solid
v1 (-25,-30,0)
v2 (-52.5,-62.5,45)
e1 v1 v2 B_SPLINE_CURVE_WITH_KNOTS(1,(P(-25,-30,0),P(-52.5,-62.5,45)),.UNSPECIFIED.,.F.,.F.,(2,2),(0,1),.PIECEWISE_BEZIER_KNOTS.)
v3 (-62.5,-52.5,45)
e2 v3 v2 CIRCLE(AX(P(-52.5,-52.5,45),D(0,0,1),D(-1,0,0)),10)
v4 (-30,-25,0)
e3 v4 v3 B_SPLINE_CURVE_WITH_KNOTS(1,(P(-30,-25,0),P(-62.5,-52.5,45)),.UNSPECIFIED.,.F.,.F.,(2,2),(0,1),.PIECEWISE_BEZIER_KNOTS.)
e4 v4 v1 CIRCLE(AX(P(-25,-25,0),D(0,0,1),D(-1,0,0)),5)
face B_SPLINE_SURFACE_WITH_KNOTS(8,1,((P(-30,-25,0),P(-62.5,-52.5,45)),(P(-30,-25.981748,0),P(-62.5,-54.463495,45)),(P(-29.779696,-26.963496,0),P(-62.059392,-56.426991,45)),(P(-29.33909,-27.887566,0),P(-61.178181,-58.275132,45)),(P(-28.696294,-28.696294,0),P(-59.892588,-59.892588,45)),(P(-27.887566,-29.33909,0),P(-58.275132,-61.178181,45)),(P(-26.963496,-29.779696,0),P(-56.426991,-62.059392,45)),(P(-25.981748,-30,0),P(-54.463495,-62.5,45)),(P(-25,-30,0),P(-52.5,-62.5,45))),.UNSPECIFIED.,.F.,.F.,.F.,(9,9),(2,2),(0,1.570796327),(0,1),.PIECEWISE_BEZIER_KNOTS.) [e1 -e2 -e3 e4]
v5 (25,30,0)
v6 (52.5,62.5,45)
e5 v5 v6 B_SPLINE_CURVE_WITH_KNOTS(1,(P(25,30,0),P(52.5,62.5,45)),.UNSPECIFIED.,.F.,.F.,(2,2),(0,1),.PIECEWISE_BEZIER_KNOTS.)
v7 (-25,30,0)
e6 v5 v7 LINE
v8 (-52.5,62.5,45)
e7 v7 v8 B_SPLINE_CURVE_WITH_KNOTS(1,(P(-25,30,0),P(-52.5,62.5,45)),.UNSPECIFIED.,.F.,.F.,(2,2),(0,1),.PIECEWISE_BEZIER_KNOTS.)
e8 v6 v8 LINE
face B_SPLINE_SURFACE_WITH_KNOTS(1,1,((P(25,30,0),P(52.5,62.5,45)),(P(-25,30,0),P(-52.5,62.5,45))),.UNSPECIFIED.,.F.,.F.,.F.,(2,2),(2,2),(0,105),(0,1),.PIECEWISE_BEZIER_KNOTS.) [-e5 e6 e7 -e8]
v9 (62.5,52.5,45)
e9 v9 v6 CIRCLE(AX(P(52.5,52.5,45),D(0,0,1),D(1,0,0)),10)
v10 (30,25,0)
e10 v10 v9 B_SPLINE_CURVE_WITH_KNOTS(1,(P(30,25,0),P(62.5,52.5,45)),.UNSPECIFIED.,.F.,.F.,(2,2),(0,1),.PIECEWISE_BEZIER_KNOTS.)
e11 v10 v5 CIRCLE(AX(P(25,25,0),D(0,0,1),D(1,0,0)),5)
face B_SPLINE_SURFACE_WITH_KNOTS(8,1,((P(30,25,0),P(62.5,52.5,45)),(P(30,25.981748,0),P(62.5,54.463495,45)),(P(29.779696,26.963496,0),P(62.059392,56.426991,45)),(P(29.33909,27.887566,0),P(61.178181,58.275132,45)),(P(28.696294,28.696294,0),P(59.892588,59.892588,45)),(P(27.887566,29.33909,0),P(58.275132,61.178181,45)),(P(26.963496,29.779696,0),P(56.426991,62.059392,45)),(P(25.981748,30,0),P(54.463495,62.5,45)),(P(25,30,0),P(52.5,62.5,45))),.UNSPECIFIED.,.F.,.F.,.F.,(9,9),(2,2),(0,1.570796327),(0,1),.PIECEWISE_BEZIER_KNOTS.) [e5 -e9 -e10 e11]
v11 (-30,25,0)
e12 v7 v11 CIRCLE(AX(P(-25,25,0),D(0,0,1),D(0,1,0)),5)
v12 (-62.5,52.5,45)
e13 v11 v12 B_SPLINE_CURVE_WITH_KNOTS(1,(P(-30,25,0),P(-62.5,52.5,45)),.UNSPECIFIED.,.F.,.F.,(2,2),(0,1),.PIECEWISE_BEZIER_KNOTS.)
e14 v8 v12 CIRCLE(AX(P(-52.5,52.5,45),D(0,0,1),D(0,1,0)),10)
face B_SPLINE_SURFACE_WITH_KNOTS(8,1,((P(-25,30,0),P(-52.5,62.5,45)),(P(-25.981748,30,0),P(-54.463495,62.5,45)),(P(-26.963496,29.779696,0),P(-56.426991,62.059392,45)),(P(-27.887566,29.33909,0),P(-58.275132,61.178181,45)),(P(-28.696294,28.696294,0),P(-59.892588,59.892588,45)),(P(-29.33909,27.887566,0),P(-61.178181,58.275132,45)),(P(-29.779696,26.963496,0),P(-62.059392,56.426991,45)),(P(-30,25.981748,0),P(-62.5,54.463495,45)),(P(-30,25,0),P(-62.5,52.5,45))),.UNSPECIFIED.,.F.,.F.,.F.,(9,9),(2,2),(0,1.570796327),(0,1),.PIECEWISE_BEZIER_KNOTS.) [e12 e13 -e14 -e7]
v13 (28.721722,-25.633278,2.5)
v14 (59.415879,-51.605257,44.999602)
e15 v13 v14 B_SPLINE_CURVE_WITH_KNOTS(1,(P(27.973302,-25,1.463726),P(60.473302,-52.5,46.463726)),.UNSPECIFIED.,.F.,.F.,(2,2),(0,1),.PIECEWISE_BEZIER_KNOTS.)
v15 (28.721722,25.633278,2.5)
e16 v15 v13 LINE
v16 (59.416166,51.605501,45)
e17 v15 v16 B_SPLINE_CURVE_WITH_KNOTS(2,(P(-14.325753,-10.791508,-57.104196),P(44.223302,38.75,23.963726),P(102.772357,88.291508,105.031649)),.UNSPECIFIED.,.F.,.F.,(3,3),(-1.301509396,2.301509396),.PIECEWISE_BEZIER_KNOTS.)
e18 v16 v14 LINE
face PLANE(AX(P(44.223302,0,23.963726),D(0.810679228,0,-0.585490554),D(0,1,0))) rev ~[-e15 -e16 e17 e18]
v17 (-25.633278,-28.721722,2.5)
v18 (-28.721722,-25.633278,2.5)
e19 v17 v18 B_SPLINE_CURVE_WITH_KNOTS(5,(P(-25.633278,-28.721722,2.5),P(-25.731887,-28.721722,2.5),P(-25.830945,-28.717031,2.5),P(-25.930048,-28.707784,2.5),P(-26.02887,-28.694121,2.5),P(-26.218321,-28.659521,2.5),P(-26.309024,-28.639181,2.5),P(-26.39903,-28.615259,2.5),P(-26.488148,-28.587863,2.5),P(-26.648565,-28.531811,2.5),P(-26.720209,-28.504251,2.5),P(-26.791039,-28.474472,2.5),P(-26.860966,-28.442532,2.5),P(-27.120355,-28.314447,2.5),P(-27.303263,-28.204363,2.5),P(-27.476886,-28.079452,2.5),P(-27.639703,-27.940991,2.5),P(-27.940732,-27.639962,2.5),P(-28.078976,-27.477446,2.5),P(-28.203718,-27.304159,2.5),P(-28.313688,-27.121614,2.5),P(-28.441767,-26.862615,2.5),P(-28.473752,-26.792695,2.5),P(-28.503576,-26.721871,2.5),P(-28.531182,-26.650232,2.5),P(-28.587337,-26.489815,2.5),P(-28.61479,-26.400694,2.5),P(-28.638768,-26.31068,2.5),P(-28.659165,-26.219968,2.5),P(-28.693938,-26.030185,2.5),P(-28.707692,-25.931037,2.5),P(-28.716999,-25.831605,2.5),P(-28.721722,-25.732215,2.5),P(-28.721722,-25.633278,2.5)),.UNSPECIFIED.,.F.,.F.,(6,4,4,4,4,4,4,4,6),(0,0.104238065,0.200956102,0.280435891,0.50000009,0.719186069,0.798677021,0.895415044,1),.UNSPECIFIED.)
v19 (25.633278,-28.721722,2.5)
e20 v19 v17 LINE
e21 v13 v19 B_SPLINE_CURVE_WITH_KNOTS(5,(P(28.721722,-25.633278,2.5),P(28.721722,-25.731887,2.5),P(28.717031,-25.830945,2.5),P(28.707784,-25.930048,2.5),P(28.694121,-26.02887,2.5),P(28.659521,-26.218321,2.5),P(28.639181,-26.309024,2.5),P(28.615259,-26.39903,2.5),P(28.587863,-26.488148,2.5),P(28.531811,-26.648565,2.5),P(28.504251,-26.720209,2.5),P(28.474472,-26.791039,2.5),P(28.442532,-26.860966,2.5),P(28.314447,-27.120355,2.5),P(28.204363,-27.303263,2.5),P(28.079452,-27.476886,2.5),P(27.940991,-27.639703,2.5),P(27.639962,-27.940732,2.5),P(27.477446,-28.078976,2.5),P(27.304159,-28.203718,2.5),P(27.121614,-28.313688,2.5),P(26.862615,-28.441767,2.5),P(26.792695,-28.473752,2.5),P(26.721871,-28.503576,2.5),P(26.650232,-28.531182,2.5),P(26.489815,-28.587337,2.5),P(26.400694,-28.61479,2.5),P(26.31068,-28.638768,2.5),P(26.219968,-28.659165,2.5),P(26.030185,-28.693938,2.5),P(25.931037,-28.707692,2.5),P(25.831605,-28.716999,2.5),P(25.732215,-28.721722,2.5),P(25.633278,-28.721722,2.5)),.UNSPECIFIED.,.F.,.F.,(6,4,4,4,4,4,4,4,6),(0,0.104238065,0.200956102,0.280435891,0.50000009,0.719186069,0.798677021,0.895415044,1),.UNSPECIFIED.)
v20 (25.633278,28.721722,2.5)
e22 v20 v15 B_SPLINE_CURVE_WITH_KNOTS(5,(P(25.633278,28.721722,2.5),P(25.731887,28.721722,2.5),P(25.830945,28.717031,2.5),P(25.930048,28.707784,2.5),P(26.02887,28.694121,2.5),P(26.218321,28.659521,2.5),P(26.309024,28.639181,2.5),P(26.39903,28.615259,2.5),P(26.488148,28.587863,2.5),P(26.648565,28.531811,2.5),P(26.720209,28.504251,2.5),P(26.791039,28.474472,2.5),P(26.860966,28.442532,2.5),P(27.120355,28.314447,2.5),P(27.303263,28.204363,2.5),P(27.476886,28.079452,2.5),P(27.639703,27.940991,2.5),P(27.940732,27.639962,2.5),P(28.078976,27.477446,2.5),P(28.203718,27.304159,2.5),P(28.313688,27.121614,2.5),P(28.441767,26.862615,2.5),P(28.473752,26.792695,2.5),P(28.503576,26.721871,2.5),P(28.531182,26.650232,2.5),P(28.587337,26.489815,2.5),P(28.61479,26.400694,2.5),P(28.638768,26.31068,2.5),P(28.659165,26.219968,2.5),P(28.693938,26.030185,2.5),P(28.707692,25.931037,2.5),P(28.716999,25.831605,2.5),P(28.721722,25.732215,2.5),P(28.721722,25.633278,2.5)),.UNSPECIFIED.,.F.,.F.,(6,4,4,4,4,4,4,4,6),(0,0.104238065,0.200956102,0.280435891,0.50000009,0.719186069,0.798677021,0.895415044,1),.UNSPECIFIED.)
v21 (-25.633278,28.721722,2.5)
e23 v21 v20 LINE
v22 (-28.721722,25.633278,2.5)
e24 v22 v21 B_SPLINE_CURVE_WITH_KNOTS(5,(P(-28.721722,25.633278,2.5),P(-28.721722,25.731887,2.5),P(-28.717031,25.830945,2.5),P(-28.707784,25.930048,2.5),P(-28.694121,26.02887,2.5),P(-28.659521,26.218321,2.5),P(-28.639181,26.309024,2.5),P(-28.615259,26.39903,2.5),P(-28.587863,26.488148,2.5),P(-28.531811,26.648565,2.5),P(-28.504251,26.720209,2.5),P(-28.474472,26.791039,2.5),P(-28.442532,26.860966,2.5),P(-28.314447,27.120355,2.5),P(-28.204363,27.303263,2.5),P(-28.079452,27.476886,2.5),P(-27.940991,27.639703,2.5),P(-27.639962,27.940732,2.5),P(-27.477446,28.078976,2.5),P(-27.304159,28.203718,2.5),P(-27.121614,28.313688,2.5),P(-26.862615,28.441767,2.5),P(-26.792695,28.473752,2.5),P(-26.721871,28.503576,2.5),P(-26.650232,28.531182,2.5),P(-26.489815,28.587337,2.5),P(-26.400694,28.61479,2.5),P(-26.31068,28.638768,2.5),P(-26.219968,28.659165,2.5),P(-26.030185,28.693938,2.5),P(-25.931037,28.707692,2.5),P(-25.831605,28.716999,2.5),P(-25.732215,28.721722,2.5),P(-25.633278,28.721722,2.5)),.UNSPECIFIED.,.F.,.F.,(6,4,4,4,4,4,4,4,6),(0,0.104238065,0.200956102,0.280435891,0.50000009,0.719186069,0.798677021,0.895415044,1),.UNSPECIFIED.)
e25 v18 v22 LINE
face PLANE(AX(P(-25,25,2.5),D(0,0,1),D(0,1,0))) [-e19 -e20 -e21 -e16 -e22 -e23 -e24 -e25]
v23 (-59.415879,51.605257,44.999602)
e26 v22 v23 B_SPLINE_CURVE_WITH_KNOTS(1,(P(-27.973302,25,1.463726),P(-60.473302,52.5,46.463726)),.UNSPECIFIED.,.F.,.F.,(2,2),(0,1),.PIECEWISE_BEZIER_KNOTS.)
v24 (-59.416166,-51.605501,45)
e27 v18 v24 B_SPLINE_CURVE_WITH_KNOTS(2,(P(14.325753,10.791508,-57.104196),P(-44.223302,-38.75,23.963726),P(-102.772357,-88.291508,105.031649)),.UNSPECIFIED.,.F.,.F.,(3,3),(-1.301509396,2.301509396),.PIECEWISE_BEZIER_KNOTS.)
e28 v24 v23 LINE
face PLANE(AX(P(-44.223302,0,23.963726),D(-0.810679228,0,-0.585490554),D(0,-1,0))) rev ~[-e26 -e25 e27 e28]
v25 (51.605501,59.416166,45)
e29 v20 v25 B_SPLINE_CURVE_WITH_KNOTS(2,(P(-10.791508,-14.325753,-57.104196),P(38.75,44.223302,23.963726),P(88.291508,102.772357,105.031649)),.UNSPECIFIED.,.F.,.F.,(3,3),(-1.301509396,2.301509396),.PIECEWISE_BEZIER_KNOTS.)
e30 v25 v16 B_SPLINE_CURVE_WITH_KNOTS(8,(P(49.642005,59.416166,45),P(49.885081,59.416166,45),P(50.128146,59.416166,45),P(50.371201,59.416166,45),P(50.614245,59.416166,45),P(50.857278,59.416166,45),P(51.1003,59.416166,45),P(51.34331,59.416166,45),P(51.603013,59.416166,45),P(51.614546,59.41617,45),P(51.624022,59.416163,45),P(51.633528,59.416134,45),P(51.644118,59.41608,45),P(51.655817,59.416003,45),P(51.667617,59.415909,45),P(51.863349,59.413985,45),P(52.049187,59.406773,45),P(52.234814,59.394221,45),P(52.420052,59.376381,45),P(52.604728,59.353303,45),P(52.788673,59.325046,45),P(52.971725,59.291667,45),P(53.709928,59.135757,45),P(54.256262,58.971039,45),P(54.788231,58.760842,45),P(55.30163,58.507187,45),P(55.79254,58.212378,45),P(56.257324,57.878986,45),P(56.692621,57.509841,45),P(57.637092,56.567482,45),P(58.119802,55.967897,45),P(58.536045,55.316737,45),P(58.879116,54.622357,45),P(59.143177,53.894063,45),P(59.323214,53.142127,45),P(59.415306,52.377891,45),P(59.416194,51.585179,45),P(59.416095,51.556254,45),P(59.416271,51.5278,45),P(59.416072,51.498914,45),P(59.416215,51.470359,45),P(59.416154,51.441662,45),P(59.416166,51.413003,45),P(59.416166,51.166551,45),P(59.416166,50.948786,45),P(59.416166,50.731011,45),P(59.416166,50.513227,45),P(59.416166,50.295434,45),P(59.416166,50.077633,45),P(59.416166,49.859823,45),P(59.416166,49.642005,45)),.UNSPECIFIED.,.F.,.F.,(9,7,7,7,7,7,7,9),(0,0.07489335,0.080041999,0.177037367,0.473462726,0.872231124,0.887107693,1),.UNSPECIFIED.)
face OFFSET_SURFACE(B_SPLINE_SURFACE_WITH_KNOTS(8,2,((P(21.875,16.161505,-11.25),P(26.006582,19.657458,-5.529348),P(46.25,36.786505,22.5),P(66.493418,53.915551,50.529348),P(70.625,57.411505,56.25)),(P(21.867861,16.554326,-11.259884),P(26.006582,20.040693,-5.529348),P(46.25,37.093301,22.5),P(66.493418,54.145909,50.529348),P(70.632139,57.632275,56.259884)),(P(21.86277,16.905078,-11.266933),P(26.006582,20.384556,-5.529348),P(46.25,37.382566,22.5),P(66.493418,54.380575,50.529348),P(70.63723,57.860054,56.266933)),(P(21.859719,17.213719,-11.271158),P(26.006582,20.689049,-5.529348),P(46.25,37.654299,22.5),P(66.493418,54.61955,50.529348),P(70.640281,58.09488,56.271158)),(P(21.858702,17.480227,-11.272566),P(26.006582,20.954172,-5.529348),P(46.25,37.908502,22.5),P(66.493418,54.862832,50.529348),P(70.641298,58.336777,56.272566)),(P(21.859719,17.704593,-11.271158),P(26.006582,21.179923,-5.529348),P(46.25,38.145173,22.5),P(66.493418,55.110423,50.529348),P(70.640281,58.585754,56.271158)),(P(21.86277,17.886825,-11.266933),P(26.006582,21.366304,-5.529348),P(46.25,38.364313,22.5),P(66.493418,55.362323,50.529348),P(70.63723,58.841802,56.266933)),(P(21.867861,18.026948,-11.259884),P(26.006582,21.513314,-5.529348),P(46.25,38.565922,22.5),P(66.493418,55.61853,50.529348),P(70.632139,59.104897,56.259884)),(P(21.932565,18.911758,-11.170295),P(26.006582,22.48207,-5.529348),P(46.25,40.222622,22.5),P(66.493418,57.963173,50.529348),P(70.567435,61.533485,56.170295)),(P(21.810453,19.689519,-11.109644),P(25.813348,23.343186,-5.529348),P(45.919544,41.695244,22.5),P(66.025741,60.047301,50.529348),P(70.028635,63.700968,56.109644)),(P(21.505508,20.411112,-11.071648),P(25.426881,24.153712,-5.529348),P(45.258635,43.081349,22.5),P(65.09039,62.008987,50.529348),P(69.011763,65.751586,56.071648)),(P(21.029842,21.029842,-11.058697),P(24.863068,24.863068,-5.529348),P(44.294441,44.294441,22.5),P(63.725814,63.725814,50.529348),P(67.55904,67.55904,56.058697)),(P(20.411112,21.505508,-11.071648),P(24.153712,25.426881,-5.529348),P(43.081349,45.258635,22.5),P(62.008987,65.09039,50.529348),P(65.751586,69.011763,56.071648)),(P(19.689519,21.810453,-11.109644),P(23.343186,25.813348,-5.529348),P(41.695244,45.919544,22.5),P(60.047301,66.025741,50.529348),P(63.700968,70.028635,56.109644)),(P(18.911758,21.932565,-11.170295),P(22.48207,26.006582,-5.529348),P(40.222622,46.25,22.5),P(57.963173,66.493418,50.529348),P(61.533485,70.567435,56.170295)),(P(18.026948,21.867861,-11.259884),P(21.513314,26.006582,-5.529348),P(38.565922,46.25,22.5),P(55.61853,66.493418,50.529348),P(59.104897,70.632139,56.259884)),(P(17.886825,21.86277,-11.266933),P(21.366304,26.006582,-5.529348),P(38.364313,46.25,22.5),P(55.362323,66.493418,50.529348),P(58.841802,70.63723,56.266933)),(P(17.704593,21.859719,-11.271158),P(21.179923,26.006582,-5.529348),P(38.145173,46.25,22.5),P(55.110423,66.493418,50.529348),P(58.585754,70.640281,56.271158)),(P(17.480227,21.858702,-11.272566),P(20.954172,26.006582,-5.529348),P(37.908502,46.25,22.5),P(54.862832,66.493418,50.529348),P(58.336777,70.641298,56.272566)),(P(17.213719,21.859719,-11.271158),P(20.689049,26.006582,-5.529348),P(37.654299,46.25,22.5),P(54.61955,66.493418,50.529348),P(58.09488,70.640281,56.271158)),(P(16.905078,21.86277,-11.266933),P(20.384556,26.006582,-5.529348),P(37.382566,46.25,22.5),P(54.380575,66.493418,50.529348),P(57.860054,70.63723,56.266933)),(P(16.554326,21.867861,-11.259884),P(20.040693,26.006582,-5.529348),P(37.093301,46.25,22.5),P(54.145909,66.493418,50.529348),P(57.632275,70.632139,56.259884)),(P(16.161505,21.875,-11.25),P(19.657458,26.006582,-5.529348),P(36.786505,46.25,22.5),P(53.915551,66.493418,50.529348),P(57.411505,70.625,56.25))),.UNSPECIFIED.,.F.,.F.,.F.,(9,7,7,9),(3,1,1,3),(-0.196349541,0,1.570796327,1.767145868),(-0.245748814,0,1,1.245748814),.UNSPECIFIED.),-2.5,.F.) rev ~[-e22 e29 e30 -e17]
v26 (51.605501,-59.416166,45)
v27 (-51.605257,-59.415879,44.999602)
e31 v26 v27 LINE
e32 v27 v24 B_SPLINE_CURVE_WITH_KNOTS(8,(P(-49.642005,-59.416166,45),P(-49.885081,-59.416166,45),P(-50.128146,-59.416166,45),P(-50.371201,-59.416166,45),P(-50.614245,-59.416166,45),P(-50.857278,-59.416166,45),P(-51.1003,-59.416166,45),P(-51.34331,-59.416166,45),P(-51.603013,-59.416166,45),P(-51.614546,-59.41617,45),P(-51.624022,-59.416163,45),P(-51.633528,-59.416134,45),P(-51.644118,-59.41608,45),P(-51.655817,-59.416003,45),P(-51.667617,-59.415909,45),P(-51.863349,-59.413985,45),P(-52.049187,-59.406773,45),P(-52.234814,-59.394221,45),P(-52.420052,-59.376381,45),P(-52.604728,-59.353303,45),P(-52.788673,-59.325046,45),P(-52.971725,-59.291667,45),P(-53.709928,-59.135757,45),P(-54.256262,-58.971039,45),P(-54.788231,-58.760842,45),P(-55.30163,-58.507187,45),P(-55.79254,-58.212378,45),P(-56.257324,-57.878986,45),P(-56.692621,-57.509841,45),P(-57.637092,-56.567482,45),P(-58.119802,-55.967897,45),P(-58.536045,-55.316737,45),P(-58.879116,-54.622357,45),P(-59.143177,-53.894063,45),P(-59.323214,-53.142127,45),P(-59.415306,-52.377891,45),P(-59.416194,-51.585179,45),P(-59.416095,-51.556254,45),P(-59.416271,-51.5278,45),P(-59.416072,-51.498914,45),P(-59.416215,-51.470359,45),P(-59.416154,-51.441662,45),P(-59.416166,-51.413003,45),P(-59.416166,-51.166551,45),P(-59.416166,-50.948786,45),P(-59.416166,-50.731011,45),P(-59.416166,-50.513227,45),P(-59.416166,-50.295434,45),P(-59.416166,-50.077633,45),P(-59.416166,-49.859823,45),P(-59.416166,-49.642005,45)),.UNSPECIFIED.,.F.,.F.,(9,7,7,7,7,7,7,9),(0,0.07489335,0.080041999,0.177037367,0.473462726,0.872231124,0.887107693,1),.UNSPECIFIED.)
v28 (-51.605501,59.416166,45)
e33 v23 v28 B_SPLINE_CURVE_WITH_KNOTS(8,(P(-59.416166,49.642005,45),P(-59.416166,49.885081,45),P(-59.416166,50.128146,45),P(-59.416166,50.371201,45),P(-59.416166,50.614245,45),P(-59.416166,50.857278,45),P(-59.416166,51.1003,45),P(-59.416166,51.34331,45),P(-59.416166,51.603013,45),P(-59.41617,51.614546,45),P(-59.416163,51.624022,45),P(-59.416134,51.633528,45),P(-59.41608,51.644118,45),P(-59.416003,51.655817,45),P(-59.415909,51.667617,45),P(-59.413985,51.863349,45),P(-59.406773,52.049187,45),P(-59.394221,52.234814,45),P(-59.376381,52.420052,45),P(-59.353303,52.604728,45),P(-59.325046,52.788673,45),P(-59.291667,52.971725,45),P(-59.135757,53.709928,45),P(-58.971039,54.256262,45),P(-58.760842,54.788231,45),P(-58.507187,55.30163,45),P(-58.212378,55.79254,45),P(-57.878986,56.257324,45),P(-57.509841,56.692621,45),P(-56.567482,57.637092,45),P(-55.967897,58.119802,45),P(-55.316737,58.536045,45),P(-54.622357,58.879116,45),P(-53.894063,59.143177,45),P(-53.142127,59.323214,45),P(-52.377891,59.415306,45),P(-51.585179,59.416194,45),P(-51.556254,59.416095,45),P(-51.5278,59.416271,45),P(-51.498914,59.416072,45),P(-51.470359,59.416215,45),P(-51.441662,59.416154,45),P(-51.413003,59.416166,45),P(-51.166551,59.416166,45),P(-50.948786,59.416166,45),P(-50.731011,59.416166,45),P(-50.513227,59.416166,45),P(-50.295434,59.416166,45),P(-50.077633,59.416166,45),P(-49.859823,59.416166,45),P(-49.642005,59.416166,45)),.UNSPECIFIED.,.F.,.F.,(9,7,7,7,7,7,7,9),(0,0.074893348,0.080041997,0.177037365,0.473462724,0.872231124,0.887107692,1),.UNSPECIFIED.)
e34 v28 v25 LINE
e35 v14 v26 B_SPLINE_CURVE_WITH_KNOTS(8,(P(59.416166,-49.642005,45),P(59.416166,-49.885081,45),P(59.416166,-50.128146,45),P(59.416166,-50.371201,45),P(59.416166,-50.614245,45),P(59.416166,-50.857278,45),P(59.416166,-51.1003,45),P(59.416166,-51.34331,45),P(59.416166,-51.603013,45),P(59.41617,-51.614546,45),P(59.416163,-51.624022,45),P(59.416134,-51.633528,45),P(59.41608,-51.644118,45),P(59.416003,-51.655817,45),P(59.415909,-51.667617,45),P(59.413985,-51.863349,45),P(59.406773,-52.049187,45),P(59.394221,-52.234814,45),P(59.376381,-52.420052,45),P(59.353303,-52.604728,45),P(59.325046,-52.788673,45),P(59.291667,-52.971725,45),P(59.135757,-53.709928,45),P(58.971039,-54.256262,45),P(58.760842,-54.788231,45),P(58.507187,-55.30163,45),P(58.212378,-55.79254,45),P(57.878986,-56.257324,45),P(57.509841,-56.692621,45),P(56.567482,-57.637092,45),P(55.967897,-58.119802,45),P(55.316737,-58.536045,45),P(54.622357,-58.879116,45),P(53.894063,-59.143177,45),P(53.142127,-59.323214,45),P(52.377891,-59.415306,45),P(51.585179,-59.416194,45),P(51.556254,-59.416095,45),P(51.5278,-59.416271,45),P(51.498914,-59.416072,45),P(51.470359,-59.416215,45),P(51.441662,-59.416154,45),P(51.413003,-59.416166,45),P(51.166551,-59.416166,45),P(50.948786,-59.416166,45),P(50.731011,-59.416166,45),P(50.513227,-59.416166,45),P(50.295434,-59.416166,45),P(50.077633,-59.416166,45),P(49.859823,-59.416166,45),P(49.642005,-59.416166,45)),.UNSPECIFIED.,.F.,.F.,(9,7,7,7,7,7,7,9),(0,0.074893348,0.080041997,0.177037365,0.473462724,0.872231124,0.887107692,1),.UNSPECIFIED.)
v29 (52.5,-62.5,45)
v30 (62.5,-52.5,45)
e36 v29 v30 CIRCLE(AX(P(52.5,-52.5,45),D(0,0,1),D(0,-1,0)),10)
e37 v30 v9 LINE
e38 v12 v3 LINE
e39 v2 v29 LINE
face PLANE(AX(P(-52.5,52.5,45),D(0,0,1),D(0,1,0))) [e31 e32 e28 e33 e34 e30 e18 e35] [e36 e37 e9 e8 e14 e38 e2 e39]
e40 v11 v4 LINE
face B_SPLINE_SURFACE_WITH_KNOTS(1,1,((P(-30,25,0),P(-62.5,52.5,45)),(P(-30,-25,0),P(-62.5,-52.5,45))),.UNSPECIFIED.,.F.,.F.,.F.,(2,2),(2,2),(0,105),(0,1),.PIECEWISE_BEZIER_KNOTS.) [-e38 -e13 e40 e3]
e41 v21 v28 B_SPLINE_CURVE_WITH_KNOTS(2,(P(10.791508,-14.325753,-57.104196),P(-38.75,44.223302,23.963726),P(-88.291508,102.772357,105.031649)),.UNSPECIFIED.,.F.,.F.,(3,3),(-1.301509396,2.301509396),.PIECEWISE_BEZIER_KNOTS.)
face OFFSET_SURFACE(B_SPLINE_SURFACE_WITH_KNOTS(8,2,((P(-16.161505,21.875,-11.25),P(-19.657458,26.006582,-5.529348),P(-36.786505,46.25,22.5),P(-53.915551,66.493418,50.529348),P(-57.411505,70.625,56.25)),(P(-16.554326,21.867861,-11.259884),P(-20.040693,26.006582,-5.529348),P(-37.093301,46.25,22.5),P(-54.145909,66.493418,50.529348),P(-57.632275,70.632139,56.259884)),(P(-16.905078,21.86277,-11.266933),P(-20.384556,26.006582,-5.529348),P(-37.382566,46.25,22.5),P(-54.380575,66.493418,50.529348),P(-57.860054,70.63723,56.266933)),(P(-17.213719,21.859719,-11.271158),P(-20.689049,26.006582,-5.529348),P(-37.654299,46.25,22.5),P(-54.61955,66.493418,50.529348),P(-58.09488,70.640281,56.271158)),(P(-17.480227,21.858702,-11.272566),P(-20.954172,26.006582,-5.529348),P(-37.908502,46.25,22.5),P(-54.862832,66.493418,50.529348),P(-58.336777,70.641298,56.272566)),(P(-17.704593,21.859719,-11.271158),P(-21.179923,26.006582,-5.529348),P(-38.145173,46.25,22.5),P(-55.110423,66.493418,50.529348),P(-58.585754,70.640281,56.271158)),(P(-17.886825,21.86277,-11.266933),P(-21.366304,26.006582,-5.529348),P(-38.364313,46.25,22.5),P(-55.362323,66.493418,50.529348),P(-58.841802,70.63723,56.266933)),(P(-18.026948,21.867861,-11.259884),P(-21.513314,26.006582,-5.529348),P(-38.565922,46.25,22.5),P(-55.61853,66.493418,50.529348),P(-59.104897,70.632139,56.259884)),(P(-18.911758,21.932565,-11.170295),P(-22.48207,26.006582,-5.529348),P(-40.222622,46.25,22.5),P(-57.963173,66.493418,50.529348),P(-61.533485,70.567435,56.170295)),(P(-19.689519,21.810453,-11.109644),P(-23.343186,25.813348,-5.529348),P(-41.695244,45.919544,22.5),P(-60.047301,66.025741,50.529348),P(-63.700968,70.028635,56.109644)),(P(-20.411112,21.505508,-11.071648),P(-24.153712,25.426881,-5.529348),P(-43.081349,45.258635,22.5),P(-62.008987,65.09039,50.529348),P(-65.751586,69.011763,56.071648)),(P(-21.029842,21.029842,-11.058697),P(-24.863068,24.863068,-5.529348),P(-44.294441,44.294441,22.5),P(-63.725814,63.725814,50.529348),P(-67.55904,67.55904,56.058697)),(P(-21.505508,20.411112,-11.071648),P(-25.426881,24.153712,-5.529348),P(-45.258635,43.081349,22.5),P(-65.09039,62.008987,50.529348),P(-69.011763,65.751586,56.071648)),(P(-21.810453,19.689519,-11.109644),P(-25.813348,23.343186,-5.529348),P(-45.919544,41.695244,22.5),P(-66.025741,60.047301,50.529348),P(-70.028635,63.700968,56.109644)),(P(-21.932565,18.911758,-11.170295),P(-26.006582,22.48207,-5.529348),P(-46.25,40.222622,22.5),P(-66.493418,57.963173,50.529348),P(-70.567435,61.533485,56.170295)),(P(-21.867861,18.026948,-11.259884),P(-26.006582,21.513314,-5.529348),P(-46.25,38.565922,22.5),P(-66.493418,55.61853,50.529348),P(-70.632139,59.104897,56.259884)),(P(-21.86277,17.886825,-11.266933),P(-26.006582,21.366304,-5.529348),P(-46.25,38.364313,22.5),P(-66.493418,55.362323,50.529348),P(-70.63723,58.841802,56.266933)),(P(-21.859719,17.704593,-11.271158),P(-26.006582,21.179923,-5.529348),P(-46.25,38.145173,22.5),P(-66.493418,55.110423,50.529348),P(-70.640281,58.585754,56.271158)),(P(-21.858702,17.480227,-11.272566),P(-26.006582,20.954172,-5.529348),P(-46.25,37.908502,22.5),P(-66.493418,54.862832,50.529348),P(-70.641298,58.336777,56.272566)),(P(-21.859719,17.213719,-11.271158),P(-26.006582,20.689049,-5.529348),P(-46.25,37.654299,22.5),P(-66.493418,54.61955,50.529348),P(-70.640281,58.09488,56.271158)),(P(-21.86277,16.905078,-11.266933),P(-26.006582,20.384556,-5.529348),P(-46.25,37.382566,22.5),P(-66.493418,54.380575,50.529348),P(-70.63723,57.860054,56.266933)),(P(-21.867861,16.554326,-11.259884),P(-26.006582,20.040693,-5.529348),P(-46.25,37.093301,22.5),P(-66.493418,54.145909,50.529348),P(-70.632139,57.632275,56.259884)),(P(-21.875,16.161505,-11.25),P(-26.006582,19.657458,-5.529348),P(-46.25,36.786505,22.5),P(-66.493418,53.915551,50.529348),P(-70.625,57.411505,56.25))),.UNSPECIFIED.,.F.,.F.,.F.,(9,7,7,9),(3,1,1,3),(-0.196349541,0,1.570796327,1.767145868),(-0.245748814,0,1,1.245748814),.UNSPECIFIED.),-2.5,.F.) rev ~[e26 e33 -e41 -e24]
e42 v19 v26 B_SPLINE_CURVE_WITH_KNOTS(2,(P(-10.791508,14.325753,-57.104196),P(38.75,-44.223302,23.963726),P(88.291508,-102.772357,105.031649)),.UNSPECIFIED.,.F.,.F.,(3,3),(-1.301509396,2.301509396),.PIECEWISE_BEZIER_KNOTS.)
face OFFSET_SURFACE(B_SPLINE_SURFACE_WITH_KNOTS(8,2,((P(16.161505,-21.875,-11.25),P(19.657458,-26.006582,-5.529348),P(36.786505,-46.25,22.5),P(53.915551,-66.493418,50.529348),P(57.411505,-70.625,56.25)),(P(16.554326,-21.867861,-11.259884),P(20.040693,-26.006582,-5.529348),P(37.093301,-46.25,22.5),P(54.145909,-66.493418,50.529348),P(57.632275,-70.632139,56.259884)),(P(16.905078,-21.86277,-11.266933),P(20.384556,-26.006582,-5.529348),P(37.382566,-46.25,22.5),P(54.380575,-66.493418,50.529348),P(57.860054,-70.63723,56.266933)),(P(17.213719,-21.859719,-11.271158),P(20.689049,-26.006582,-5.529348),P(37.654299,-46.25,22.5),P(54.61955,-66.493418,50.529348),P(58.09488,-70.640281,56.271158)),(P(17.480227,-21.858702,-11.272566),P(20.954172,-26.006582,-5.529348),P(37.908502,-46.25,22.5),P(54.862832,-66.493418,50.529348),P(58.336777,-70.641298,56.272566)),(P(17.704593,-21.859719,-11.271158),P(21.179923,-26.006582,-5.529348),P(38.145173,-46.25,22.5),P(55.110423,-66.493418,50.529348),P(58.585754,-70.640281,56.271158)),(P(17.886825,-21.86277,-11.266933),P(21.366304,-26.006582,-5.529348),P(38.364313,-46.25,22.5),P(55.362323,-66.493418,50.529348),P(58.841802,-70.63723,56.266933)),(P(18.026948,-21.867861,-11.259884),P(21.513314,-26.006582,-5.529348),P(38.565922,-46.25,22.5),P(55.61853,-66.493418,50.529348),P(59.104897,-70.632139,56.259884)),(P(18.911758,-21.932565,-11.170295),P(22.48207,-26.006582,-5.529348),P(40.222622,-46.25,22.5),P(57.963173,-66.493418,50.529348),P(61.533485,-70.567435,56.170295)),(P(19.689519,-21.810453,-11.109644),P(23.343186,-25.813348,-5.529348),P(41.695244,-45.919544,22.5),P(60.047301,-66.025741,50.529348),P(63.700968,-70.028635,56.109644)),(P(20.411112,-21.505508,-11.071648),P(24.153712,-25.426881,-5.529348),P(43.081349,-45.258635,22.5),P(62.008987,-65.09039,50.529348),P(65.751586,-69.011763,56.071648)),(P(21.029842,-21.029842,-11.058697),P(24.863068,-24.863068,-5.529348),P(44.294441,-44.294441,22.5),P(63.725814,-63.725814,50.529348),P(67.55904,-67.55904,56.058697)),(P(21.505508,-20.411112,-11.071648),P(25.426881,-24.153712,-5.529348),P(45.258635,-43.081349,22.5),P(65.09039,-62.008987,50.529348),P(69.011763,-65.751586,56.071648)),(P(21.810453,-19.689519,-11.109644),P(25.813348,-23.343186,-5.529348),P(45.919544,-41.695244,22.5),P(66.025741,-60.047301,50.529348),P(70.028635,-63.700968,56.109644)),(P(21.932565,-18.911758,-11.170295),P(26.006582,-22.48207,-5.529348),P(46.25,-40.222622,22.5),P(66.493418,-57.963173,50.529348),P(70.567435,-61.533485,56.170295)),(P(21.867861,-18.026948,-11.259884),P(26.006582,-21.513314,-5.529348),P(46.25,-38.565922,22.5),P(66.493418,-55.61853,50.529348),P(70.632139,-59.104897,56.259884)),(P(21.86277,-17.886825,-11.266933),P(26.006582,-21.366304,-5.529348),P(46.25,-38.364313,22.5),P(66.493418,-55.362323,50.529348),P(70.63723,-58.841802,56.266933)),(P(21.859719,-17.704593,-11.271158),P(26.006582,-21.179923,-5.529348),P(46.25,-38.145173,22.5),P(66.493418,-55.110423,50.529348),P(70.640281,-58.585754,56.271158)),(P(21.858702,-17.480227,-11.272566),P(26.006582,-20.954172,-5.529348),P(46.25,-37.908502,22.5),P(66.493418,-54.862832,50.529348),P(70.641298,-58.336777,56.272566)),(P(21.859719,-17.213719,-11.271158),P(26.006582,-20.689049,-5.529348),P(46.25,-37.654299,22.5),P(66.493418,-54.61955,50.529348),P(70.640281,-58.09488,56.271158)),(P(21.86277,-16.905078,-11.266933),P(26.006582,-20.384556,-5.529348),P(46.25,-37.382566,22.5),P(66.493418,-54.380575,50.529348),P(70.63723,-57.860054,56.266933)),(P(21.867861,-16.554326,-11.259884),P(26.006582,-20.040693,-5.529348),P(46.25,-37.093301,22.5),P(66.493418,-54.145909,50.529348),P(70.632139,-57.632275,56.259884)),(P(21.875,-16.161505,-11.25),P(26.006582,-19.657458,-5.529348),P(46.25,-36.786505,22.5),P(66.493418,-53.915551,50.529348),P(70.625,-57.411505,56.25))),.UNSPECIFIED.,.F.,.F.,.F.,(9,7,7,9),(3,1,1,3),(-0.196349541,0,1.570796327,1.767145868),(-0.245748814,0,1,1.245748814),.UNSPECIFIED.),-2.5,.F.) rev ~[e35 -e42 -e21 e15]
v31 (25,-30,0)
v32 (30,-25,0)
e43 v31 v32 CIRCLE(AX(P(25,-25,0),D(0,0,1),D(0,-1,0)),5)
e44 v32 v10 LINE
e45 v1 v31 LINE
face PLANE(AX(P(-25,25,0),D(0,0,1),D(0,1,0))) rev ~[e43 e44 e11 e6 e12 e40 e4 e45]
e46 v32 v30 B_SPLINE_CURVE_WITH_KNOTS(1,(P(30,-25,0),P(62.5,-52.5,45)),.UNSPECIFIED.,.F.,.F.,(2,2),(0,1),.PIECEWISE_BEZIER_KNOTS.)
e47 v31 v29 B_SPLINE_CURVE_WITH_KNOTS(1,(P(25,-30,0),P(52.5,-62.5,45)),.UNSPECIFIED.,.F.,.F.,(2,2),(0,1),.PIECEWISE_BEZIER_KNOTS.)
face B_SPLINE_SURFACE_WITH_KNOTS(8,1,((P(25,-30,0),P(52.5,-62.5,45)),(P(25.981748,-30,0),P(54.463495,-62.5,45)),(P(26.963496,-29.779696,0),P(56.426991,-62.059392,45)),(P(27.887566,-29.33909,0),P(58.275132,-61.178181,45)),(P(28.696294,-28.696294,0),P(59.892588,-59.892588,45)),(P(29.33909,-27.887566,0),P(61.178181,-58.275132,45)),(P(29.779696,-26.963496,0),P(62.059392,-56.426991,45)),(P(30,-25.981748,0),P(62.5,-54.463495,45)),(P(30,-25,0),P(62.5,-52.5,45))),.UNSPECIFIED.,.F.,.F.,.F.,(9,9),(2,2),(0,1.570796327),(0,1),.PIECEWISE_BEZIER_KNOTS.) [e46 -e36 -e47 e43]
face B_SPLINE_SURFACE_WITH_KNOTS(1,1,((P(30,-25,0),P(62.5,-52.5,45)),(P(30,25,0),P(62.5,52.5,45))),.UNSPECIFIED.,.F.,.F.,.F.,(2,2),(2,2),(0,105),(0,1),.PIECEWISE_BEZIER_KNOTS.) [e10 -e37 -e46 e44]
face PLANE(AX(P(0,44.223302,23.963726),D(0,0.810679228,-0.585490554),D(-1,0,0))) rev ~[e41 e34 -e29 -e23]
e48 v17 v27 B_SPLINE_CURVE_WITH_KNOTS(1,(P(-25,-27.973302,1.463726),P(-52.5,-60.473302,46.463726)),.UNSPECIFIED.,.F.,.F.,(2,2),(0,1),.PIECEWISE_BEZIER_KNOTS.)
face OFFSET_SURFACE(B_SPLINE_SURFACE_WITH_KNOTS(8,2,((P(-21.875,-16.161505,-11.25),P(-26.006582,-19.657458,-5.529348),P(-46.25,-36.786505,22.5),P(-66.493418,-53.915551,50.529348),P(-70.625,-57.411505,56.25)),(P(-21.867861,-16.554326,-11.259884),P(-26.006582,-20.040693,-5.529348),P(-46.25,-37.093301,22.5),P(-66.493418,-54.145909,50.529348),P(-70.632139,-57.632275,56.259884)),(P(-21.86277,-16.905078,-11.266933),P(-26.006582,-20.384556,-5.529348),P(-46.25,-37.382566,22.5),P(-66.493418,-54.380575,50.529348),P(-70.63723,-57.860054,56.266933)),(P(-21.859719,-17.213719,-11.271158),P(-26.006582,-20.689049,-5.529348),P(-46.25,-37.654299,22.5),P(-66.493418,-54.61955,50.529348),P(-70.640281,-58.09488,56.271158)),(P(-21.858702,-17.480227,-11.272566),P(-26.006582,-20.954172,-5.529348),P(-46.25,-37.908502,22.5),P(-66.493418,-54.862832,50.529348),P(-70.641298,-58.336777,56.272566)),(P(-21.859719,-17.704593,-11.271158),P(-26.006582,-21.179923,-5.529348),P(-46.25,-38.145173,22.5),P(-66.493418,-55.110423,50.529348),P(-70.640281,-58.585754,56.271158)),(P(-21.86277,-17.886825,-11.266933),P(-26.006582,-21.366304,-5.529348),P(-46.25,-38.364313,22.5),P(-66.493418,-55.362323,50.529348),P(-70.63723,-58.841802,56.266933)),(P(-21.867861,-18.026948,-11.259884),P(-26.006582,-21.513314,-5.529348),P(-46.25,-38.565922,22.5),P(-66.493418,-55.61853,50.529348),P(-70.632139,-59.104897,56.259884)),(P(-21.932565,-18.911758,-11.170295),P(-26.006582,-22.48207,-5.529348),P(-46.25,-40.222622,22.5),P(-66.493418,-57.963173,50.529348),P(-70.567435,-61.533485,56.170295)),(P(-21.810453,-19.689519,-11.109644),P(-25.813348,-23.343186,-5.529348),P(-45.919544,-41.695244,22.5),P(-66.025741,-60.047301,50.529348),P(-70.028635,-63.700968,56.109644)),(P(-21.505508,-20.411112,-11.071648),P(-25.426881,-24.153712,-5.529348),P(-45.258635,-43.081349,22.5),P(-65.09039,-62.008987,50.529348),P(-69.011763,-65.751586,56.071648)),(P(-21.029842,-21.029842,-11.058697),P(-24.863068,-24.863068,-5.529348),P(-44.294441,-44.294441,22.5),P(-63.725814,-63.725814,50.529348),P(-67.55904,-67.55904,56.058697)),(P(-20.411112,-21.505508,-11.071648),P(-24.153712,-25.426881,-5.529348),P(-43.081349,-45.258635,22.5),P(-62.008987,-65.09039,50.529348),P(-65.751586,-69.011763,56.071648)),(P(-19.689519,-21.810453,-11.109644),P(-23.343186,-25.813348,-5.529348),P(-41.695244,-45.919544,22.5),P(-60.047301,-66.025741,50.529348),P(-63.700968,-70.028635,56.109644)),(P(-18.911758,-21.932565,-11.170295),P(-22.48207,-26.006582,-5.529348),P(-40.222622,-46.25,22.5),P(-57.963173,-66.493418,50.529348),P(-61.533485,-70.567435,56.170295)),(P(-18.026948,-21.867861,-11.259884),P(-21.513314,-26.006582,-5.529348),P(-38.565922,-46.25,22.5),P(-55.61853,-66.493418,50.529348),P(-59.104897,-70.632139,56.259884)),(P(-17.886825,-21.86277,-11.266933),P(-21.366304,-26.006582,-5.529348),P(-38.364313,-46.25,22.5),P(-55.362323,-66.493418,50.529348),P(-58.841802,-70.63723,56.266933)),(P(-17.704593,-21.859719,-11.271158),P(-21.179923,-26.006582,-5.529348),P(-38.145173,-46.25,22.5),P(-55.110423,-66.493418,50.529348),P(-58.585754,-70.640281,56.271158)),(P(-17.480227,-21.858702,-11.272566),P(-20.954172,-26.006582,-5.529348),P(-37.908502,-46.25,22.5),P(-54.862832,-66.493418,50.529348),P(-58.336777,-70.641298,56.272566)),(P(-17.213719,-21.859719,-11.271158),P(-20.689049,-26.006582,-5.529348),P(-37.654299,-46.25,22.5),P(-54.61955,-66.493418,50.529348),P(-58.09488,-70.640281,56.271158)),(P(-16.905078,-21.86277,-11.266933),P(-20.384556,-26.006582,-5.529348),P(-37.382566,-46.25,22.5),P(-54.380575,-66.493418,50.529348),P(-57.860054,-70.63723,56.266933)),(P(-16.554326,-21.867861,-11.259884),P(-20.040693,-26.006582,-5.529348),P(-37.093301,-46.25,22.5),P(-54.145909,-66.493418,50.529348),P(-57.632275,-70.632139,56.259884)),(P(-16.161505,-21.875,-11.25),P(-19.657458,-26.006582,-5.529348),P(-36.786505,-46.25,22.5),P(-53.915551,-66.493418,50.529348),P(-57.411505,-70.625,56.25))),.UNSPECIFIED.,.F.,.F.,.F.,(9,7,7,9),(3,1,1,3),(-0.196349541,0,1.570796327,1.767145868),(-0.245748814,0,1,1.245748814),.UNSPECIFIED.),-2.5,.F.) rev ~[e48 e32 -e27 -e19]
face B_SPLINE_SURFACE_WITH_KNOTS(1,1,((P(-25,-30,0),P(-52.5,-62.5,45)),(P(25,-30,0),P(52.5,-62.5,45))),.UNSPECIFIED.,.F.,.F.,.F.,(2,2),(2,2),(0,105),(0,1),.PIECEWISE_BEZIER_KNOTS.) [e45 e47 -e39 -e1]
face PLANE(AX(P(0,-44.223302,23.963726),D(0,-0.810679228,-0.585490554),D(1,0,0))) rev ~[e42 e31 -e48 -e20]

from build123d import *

# Parameters (mm, degrees)
F4_T = -2.5


with BuildPart() as f3:
    # F0 (on Top) → F3 section 0
    with BuildSketch(Plane.XY):
        with BuildLine():
            Line((25, 30), (-25, 30))
            ThreePointArc((-25, 30), (-28.5355339059, 28.5355339059), (-30, 25))
            Line((-30, 25), (-30, -25))
            ThreePointArc((-30, -25), (-28.5355339059, -28.5355339059), (-25, -30))
            Line((-25, -30), (25, -30))
            ThreePointArc((25, -30), (28.5355339059, -28.5355339059), (30, -25))
            Line((30, -25), (30, 25))
            ThreePointArc((30, 25), (28.5355339059, 28.5355339059), (25, 30))
        make_face()
    # F2 (on offset) → F3 section 1
    with BuildSketch(Plane.XY.offset(45)):
        with BuildLine():
            Line((52.5, 62.5), (-52.5, 62.5))
            ThreePointArc((-52.5, 62.5), (-59.5710678119, 59.5710678119), (-62.5, 52.5))
            Line((-62.5, 52.5), (-62.5, -52.5))
            ThreePointArc((-62.5, -52.5), (-59.5710678119, -59.5710678119), (-52.5, -62.5))
            Line((-52.5, -62.5), (52.5, -62.5))
            ThreePointArc((52.5, -62.5), (59.5710678119, -59.5710678119), (62.5, -52.5))
            Line((62.5, -52.5), (62.5, 52.5))
            ThreePointArc((62.5, 52.5), (59.5710678119, 59.5710678119), (52.5, 62.5))
        make_face()
    loft()

    # F4
    f4_openings = [f3.faces().sort_by_distance(p)[0] for p in [
        (0, 0, 45),
    ]]
    offset(amount=F4_T, openings=f4_openings)


solid = f3.part
